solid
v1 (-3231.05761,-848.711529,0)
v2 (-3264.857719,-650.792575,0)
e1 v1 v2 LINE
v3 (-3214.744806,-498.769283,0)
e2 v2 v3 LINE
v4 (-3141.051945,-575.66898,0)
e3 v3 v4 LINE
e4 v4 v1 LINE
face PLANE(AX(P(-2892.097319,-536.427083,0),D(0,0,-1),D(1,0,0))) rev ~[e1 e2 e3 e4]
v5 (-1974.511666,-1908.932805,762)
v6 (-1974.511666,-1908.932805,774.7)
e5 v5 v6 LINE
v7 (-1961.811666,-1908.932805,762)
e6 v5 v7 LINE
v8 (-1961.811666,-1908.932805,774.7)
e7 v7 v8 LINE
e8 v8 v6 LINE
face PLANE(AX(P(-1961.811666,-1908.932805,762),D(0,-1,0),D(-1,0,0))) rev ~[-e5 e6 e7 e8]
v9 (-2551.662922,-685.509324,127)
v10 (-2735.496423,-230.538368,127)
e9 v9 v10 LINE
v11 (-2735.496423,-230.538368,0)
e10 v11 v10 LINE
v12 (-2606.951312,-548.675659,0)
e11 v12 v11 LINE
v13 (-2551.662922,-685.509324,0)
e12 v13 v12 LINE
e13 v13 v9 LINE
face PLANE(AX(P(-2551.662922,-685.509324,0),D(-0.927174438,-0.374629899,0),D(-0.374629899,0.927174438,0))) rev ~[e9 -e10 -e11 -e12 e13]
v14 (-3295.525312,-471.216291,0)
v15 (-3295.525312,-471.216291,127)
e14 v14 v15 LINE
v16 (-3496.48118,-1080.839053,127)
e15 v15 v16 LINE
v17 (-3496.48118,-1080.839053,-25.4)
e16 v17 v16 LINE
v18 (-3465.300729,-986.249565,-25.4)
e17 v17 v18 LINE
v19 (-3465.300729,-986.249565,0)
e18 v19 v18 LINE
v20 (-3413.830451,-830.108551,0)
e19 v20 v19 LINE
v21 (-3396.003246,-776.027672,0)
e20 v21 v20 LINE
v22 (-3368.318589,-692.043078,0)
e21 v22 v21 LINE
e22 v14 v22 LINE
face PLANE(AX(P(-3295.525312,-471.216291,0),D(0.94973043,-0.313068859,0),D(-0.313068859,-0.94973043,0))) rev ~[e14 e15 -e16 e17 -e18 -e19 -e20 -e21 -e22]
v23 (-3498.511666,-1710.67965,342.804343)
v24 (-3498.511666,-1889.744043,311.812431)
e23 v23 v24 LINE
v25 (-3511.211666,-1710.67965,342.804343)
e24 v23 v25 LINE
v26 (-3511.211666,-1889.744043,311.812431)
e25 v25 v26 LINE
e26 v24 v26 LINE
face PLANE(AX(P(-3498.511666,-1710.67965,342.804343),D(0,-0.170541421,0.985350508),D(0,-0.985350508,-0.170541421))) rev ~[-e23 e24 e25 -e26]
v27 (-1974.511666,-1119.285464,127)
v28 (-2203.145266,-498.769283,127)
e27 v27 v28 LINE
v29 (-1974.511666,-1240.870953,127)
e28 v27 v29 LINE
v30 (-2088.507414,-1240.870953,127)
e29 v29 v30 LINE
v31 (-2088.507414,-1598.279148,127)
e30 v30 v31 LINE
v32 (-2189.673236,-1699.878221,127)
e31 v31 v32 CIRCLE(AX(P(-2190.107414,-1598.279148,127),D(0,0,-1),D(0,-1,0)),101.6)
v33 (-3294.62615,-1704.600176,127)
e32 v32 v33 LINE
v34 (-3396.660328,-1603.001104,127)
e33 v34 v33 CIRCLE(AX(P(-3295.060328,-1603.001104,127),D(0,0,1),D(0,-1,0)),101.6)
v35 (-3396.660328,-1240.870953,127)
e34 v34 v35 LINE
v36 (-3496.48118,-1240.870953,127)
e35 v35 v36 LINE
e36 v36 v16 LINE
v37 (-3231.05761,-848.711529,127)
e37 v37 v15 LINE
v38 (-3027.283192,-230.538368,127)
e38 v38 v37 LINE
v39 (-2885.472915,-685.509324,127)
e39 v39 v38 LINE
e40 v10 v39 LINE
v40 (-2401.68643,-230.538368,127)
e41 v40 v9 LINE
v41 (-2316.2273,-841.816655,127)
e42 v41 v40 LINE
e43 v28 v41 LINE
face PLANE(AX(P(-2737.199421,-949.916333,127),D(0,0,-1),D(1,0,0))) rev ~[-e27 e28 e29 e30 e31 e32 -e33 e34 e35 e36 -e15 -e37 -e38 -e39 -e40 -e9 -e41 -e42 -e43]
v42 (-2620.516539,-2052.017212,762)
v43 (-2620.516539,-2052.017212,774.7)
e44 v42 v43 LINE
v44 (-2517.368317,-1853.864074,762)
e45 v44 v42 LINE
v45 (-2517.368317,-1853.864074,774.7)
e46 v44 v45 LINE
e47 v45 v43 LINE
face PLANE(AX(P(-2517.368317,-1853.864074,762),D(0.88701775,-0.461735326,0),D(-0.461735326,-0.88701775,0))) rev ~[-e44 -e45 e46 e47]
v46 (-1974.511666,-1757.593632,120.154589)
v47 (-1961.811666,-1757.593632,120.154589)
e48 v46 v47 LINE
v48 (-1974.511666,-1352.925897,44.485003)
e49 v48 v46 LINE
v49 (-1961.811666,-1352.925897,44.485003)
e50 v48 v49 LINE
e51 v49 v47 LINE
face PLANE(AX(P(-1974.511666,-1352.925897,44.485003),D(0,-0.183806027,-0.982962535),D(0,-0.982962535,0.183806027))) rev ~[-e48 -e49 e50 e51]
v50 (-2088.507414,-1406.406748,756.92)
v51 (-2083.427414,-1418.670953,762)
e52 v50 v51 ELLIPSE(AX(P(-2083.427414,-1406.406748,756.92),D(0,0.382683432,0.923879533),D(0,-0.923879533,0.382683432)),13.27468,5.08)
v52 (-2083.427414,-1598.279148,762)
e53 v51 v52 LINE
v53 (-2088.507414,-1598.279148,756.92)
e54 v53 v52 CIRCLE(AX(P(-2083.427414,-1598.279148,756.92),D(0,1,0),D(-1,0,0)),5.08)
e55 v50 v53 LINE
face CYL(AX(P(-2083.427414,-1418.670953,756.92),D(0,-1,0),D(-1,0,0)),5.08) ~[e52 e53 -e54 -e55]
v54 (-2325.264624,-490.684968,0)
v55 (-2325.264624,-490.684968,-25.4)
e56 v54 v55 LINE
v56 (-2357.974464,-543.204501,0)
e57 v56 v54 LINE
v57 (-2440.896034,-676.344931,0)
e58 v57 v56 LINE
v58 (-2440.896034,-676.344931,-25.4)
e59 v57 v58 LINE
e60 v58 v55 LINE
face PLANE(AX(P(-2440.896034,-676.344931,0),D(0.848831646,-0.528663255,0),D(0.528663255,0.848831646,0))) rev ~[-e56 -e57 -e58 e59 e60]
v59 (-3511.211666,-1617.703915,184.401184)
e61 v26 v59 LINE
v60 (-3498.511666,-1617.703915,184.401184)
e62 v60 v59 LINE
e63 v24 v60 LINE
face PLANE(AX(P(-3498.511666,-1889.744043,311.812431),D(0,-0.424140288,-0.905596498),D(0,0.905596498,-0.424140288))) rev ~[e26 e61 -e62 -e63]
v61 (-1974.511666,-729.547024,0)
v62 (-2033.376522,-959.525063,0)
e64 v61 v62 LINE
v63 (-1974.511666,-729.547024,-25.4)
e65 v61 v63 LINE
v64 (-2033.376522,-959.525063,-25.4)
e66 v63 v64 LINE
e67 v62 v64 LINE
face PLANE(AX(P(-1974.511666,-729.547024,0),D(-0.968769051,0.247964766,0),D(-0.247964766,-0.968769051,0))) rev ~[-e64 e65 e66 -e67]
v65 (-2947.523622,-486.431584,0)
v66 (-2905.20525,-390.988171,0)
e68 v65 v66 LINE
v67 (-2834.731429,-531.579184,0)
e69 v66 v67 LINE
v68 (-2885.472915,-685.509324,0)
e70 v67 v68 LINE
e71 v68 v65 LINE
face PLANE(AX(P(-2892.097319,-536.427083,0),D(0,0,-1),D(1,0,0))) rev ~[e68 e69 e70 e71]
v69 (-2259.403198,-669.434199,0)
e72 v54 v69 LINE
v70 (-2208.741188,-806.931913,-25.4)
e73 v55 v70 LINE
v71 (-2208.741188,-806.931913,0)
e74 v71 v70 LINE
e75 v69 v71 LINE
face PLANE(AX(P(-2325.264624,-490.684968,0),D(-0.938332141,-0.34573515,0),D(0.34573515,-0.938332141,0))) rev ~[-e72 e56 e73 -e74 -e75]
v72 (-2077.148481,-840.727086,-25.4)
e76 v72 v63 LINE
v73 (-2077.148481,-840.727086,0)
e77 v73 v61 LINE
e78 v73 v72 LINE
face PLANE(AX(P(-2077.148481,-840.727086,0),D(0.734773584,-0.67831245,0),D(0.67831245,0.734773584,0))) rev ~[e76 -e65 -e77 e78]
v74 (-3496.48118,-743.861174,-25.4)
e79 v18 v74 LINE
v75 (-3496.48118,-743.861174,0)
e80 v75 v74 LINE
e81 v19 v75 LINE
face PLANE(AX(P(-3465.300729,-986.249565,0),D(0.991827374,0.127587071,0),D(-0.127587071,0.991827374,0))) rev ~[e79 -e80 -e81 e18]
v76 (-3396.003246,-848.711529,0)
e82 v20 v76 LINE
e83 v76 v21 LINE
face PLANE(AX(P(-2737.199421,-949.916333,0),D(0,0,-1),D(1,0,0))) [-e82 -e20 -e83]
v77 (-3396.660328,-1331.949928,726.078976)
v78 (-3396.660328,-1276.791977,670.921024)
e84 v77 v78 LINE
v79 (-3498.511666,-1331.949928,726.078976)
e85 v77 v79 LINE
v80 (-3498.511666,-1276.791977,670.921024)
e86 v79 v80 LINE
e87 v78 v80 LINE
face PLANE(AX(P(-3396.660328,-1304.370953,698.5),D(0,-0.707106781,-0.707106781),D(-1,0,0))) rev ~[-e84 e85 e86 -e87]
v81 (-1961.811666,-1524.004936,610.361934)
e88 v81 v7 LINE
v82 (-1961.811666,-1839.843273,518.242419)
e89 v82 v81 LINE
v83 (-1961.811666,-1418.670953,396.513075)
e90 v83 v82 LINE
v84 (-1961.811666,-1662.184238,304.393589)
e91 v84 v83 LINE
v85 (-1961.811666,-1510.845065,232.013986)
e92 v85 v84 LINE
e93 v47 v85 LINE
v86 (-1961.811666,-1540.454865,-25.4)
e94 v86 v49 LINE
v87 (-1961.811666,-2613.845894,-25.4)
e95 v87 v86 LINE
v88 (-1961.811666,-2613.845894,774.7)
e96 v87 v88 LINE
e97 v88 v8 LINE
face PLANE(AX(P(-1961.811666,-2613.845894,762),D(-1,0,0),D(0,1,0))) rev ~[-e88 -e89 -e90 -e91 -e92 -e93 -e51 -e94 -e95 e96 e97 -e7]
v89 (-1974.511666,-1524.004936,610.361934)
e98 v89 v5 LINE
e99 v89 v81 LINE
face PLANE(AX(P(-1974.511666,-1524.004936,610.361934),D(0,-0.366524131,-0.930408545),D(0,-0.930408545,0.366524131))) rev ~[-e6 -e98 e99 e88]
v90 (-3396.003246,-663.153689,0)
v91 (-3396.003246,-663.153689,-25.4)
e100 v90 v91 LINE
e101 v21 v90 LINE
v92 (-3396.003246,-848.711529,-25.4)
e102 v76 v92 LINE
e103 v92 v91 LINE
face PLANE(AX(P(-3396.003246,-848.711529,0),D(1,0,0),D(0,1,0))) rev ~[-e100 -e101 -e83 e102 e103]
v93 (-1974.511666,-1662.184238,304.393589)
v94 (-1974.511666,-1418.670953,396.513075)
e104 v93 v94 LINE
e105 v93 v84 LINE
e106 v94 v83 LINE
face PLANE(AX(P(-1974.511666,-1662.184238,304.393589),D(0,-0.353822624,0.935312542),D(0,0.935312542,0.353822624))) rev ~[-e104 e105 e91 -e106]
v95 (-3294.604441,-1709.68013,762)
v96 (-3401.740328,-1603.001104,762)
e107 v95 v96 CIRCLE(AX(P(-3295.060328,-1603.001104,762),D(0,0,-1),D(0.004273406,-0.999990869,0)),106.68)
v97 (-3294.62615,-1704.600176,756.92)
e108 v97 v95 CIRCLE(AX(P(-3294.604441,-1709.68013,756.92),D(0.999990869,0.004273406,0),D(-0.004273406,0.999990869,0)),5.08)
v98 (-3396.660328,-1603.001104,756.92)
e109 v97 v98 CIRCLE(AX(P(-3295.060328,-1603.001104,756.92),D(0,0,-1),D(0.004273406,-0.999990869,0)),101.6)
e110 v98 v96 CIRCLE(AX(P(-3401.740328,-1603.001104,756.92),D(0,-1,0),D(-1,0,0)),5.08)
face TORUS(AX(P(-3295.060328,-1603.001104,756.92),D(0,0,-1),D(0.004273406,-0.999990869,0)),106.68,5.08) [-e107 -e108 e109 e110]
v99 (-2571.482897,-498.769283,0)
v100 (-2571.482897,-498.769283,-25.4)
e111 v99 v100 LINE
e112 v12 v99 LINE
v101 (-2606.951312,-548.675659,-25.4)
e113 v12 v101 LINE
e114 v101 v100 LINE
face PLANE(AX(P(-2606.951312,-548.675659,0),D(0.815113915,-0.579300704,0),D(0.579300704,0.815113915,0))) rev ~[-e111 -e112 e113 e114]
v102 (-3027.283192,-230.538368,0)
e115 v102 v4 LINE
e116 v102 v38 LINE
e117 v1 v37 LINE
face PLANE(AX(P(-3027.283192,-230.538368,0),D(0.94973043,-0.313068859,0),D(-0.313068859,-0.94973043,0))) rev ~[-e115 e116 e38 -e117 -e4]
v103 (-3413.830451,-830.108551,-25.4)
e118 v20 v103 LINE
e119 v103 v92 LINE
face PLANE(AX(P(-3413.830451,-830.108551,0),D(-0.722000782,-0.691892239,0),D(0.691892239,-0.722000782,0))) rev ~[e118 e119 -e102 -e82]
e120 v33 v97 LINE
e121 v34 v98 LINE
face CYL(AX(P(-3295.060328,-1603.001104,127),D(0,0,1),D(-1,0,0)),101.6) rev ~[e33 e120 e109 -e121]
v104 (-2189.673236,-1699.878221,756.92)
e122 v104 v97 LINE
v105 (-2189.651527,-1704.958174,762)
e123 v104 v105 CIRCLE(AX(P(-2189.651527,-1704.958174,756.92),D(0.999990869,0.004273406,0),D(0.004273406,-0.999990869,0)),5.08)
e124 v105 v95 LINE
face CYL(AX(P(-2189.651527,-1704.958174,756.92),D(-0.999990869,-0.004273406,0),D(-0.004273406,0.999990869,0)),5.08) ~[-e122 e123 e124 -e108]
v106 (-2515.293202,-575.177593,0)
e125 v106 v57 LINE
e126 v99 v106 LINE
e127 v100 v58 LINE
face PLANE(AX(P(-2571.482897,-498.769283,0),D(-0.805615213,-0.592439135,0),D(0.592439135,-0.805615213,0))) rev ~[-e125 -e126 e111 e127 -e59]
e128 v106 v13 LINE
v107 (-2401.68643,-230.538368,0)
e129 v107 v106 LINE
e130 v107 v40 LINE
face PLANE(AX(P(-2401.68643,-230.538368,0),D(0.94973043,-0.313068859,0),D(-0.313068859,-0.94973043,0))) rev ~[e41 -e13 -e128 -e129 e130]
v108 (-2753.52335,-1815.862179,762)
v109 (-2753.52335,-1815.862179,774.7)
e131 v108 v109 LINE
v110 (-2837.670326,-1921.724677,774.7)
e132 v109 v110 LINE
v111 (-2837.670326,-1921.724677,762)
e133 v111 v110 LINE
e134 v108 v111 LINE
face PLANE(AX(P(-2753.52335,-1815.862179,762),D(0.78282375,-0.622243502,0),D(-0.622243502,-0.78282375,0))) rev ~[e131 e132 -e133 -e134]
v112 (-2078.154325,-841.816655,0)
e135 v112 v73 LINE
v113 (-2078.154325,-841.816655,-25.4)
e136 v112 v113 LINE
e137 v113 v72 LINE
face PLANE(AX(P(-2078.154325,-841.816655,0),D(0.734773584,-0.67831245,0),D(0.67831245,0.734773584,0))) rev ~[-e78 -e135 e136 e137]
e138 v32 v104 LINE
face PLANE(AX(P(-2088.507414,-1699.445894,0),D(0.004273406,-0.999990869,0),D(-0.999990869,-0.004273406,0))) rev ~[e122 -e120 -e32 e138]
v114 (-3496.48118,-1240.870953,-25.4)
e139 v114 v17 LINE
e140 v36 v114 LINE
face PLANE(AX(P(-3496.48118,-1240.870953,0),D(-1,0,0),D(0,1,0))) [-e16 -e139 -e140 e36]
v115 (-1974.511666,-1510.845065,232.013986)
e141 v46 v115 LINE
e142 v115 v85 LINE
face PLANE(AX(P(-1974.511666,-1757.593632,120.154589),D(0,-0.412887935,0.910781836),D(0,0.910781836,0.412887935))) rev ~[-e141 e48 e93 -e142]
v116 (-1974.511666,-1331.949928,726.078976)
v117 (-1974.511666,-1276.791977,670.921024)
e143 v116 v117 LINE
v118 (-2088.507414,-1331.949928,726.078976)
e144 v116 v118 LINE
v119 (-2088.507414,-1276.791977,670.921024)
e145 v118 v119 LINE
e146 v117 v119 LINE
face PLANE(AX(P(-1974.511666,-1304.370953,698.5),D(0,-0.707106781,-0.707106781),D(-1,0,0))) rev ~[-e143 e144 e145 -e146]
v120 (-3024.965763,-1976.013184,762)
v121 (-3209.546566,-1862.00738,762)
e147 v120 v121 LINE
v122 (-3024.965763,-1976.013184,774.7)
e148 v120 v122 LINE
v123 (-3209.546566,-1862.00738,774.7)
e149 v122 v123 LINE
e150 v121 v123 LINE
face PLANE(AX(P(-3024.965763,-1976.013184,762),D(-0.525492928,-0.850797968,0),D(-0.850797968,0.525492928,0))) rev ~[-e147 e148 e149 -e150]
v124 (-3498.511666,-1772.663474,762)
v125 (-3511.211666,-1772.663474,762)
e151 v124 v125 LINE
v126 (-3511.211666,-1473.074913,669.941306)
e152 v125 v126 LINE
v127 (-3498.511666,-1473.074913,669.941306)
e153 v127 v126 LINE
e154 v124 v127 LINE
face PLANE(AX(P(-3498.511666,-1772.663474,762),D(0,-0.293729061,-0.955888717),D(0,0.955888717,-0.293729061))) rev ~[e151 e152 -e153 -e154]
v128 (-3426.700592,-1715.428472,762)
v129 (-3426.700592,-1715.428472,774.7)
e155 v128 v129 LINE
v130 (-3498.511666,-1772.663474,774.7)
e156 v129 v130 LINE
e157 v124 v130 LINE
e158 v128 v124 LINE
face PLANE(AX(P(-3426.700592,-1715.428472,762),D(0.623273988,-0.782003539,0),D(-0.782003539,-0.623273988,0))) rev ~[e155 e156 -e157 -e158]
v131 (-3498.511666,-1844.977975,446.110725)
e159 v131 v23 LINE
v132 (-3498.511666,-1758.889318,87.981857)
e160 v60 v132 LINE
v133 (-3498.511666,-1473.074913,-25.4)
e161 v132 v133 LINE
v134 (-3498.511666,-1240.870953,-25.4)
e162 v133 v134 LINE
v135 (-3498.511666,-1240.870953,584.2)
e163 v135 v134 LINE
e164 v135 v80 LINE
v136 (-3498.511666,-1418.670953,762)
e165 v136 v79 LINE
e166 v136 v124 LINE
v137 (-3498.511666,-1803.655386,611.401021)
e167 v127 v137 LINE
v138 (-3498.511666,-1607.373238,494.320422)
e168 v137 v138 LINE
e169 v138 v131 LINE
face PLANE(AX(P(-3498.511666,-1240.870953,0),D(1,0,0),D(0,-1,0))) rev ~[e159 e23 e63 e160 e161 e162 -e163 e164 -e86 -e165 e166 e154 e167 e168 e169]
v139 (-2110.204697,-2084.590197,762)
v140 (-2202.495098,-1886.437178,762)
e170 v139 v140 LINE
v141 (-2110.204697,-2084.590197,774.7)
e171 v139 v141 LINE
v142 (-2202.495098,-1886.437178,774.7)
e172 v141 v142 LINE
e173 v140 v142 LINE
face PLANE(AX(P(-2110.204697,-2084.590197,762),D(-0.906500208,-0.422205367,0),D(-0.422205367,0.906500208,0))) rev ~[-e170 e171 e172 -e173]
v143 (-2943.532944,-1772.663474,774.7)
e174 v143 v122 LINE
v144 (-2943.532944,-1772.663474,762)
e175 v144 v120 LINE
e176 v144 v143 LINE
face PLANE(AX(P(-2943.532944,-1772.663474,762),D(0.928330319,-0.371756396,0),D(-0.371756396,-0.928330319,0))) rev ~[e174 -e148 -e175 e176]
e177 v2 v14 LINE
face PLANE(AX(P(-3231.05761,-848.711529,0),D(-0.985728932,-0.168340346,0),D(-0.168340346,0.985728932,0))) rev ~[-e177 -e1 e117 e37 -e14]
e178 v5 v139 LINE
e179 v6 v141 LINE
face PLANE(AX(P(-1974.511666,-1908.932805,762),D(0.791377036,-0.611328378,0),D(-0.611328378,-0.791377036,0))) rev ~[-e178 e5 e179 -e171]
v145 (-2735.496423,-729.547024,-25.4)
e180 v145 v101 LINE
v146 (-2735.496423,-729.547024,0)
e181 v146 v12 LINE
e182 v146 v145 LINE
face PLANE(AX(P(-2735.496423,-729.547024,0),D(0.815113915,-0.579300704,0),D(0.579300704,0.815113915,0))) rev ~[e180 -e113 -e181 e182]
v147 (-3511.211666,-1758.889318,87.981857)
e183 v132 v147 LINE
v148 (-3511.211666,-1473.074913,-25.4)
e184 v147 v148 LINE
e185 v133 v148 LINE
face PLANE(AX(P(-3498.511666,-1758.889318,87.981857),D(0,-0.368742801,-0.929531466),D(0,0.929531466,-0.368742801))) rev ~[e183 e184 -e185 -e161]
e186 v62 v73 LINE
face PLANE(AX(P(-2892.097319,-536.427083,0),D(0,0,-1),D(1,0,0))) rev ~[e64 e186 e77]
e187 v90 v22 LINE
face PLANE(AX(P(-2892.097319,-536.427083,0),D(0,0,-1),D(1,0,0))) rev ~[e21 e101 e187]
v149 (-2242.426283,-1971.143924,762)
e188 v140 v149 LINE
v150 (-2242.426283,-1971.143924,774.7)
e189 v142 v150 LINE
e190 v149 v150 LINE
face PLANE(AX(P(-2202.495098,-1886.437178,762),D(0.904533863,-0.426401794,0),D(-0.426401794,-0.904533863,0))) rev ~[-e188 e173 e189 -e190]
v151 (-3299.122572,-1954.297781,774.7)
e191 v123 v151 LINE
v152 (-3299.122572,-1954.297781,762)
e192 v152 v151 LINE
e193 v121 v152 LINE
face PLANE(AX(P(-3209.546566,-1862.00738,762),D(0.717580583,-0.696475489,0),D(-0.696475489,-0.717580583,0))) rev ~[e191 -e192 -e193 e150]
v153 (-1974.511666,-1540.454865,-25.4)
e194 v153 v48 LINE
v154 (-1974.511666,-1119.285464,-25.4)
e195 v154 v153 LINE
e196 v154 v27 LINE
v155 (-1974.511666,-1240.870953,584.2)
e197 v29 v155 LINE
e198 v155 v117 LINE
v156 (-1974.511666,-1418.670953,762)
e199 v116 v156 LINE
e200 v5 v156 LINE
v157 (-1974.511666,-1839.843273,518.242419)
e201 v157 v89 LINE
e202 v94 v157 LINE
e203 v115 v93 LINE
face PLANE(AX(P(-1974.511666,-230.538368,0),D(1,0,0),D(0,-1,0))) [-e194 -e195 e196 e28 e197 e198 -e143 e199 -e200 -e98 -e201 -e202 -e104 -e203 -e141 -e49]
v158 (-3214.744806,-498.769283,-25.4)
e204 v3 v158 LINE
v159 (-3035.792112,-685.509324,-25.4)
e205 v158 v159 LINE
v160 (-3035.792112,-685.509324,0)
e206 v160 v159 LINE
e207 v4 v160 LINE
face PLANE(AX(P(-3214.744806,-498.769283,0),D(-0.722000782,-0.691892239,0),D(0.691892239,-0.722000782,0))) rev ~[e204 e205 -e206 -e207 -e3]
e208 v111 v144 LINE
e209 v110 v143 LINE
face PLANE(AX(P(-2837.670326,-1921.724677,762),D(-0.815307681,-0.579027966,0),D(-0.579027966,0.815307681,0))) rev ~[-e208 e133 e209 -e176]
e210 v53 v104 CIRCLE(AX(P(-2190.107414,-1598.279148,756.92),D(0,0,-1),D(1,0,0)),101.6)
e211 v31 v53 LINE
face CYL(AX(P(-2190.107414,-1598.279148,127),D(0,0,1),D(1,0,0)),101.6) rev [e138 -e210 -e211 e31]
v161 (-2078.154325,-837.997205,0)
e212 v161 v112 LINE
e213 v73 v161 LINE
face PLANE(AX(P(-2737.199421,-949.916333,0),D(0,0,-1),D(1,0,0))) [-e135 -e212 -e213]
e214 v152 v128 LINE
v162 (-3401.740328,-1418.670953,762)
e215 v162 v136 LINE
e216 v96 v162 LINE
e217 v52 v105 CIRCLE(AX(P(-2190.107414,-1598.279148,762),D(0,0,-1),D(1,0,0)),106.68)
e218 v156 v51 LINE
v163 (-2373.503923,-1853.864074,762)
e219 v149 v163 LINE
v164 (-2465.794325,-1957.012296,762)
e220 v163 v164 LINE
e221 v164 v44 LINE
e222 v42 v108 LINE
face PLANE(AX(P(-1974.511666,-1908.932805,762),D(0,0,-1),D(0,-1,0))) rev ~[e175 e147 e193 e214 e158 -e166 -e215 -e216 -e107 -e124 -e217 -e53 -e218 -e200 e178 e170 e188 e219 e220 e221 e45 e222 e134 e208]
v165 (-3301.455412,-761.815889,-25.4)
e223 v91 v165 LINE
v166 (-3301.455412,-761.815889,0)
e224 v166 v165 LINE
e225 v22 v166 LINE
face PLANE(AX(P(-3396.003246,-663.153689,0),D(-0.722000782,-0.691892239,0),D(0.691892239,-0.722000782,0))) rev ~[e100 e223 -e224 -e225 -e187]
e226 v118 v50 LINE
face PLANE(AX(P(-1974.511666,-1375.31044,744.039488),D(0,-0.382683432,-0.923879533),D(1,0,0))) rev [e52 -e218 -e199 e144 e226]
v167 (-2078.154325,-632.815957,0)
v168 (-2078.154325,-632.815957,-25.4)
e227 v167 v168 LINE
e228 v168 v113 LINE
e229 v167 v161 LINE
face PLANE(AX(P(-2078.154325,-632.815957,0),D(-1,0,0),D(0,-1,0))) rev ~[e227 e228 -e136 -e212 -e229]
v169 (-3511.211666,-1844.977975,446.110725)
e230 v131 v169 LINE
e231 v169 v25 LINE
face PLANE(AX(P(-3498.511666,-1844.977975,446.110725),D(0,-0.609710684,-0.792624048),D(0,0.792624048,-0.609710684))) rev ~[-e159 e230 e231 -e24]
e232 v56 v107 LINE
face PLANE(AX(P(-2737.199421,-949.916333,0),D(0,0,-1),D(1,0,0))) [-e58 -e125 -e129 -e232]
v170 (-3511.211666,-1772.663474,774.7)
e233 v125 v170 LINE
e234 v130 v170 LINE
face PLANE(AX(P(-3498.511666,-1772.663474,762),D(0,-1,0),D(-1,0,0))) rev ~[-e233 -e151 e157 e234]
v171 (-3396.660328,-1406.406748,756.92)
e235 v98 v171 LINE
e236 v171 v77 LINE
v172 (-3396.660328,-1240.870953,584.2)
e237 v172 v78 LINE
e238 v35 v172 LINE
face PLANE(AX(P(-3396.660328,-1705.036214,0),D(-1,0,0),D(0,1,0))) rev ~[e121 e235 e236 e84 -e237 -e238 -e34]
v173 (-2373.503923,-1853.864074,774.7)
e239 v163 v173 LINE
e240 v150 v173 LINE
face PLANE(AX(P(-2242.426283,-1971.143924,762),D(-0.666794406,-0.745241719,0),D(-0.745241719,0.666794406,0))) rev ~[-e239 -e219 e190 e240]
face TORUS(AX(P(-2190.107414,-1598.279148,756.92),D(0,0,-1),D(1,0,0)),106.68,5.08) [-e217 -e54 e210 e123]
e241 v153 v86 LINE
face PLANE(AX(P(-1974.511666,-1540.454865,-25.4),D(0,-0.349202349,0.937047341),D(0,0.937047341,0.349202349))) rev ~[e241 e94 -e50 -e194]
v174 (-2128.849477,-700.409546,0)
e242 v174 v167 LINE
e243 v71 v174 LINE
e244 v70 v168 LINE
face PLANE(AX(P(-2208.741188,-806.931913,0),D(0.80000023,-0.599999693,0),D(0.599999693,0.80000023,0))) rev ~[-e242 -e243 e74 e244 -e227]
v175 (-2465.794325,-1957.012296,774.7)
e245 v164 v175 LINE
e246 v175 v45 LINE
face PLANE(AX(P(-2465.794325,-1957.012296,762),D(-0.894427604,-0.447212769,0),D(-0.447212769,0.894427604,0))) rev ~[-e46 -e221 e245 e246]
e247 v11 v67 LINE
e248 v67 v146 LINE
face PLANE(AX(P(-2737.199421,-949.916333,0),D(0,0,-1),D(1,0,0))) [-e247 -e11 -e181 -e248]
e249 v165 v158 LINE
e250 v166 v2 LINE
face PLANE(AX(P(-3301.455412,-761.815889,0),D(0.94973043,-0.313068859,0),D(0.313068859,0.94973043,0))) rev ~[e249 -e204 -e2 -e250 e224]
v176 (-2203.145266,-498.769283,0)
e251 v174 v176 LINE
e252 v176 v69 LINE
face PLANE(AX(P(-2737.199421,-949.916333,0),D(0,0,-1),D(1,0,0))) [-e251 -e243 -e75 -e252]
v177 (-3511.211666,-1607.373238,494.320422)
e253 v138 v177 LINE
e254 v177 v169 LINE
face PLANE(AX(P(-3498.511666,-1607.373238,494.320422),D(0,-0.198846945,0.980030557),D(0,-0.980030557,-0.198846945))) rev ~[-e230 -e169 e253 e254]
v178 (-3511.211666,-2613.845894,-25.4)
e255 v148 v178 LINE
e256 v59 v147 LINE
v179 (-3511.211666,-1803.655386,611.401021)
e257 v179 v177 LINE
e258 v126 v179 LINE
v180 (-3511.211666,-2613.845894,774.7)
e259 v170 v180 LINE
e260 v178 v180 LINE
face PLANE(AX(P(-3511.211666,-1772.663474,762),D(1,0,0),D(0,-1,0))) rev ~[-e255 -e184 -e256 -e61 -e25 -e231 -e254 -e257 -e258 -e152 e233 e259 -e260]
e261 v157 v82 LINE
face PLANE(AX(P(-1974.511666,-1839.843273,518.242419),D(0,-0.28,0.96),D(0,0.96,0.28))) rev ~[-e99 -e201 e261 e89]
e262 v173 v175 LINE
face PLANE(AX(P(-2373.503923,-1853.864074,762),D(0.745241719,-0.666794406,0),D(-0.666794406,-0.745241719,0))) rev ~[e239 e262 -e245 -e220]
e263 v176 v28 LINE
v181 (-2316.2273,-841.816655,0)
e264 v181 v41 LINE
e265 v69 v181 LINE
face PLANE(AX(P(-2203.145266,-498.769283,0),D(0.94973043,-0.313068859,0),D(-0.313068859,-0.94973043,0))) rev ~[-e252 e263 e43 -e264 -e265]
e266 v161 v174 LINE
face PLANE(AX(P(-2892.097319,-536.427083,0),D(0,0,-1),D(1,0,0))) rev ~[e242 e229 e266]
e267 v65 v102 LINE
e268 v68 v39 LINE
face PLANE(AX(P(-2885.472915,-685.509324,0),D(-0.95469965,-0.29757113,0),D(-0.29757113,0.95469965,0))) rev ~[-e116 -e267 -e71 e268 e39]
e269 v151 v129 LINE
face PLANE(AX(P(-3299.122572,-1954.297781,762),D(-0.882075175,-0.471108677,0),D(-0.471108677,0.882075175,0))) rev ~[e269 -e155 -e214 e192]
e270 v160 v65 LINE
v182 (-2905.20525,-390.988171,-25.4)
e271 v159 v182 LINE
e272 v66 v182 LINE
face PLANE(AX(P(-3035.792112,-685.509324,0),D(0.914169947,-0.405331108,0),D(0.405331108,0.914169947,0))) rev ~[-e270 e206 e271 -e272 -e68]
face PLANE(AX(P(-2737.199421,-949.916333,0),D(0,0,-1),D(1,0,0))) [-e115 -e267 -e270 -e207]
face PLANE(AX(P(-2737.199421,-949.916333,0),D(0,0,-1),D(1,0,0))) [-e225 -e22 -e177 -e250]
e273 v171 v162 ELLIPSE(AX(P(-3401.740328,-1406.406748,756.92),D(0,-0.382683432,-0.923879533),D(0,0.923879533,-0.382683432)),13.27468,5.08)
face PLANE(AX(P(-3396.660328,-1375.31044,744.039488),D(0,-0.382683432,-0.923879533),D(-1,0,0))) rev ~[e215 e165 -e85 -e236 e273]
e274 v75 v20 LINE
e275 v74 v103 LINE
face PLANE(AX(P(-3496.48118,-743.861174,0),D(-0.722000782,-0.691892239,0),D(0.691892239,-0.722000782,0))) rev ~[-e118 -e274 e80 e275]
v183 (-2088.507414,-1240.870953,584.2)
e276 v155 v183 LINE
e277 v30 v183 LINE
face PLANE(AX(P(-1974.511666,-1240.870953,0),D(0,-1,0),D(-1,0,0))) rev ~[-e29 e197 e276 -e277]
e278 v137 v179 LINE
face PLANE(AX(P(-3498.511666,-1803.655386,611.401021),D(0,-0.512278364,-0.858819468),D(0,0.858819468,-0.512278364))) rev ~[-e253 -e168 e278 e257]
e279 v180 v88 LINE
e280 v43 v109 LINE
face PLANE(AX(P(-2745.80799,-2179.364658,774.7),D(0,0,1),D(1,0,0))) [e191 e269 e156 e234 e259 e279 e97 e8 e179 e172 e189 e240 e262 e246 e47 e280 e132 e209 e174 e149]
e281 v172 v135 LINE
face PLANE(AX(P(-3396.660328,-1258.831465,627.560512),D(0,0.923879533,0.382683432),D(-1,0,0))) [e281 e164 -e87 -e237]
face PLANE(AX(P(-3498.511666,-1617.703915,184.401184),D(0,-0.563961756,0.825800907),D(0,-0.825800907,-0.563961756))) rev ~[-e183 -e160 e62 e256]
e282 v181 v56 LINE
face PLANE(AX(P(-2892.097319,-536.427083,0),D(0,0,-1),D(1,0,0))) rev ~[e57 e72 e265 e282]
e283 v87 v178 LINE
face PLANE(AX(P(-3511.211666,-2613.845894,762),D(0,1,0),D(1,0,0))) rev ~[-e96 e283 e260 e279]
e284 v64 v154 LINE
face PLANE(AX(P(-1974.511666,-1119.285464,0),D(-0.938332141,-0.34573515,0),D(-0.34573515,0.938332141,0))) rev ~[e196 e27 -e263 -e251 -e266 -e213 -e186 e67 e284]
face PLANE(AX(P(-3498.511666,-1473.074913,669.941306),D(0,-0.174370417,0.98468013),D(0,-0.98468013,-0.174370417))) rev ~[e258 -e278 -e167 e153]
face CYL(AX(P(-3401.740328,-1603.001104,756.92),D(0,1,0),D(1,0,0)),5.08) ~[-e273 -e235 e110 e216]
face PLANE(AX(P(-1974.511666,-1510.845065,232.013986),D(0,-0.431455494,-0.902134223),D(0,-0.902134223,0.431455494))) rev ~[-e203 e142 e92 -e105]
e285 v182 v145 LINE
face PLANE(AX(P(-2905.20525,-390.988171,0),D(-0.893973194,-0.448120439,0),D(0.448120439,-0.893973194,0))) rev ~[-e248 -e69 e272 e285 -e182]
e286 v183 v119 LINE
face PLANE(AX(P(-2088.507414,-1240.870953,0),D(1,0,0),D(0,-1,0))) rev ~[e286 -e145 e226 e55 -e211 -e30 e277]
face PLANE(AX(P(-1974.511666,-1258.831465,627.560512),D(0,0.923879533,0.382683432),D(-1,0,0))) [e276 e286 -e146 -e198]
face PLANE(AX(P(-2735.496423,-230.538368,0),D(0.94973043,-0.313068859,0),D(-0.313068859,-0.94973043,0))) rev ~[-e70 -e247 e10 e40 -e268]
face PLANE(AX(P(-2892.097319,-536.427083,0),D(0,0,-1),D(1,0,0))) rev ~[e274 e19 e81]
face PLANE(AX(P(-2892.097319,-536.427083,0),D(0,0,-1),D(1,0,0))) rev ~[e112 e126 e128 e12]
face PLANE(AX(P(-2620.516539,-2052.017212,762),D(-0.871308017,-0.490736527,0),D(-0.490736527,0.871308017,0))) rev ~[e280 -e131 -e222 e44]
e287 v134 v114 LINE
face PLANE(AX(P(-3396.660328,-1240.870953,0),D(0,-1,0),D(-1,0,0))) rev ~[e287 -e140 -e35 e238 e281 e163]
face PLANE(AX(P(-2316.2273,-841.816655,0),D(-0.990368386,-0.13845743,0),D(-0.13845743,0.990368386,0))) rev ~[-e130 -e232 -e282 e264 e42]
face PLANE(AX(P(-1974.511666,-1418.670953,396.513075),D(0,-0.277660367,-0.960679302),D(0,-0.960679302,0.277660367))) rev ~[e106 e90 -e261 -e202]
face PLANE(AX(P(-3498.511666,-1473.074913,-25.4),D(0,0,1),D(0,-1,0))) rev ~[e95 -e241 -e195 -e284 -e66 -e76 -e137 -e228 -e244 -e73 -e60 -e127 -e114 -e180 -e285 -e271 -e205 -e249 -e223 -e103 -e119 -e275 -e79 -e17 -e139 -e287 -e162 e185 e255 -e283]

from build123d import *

# Parameters (mm, degrees)
F1_DEPTH  = 762
F3_DEPTH  = 127
F6_DEPTH  = 762.001
F8_DEPTH  = 25.4
F10_SIZE  = 127
F11_SIZE  = 50.8
F12_R     = 101.6
F13_R     = 5.08
F15_DEPTH = 12.7
F17_DEPTH = 12.7
F19_DEPTH = 12.7


with BuildPart() as f1:
    # F0 (on Top) → F1 (new body)
    with BuildSketch(Plane.XY):
        Polygon((-3498.5116661556, -1699.4458940506), (-3498.5116661556, -2613.8458940506), (-1974.5116661556, -2613.8458940506), (-1974.5116661556, -1699.4458940506), (-1974.5116661556, -1240.8709526062), (-2088.5074138641, -1240.8709526062), (-2088.5074138641, -1699.4458940506), (-3396.6603279114, -1705.0362136841), (-3396.6603279114, -1240.8709526062), (-3498.5116661556, -1240.8709526062), align=None)
    extrude(amount=F1_DEPTH)


with BuildPart() as f3:
    # F2 (on face) → F3 (new body)
    with BuildSketch(Plane(origin=(0, 0, 0), x_dir=(1, 0, 0), z_dir=(0, 0, -1))):
        Polygon((-1974.5116661556, 230.5383682251), (-1974.5116661556, 1240.8709526062), (-2088.5074138641, 1240.8709526062), (-2088.5074138641, 1699.4458940506), (-3396.6603279114, 1705.0362136841), (-3396.6603279114, 1240.8709526062), (-3496.481180191, 1240.8709526062), (-3496.481180191, 230.5383682251), align=None)
    extrude(amount=-F3_DEPTH)


with BuildPart() as f1_1:
    add(f1.part)

    # F4: union F3
    add(f3.part)

    # F5 (on face) → F6 (cut, through all)
    with BuildSketch(Plane(origin=(0, 0, 0), x_dir=(1, 0, 0), z_dir=(0, 0, -1))):
        Polygon((-2316.2273000234, 841.8166545124), (-2401.6864299774, 230.5383682251), (-1974.5116661556, 230.5383682251), (-1974.5116661556, 1119.2854642868), (-2203.1452655792, 498.7692832947), align=None)
        Polygon((-2735.4964231733, 230.5383682251), (-2401.6864299774, 230.5383682251), (-2551.6629219055, 685.5093240738), align=None)
        Polygon((-3496.481180191, 230.5383682251), (-3027.2831916809, 230.5383682251), (-3231.0576103647, 848.7115289264), (-3295.5253124237, 471.2162911892), (-3496.481180191, 1080.8390531707), align=None)
        Polygon((-3027.2831916809, 230.5383682251), (-2735.4964231733, 230.5383682251), (-2885.4729151014, 685.5093240738), align=None)
    extrude(amount=-F6_DEPTH, mode=Mode.SUBTRACT)


with BuildPart() as f8:
    # F7 (on face) → F8 (new body)
    with BuildSketch(Plane(origin=(0, 0, 0), x_dir=(1, 0, 0), z_dir=(0, 0, -1))):
        Polygon((-2905.2052497864, 390.9881711006), (-2834.7314291205, 531.5791842156), (-2885.4729151014, 685.5093240738), (-2947.5236220314, 486.4315835605), align=None)
        Polygon((-3214.7448062897, 498.7692832947), (-3141.0519449936, 575.6689801958), (-3231.0576103647, 848.7115289264), (-3264.8577193286, 650.7925747624), align=None)
        Polygon((-3413.8304513223, 830.1085511328), (-3465.3007291058, 986.2495648338), (-3496.481180191, 743.8611740208), align=None)
        Polygon((-3368.3185893378, 692.043077782), (-3396.0032463074, 776.02767218), (-3396.0032463074, 663.1536888734), align=None)
        Polygon((-2571.4828968048, 498.7692832947), (-2515.293202418, 575.1775925706), (-2551.6629219055, 685.5093240738), (-2606.951311997, 548.6756592969), align=None)
        Polygon((-2325.264623755, 490.6849679948), (-2259.4031983079, 669.4341994996), (-2316.2273000234, 841.8166545124), (-2357.9744639194, 543.2045013416), align=None)
        Polygon((-2078.1543254852, 837.9972051805), (-2128.849476835, 700.4095461938), (-2078.1543254852, 632.8159570694), align=None)
        Polygon((-2033.3765220407, 959.5250631011), (-2077.148481374, 840.727086301), (-1974.5116661556, 729.5470237732), align=None)
        Polygon((-2259.4031983079, 669.4341994996), (-2208.7411880493, 806.931912899), (-2128.849476835, 700.4095461938), (-2078.1543254852, 837.9972051805), (-2078.1543254852, 841.8166545124), (-2077.148481374, 840.727086301), (-2033.3765220407, 959.5250631011), (-1974.5116661556, 1119.2854642868), (-1974.5116661556, 2613.8458940506), (-3498.5116661556, 2613.8458940506), (-3498.5116661556, 1240.8709526062), (-3496.481180191, 1240.8709526062), (-3496.481180191, 1080.8390531707), (-3465.3007291058, 986.2495648338), (-3413.8304513223, 830.1085511328), (-3396.0032463074, 848.7115289264), (-3396.0032463074, 776.02767218), (-3368.3185893378, 692.043077782), (-3301.4554118653, 761.8158887578), (-3264.8577193286, 650.7925747624), (-3231.0576103647, 848.7115289264), (-3141.0519449936, 575.6689801958), (-3035.7921123505, 685.5093240738), (-2947.5236220314, 486.4315835605), (-2885.4729151014, 685.5093240738), (-2834.7314291205, 531.5791842156), (-2735.4964231733, 729.5470237732), (-2606.951311997, 548.6756592969), (-2551.6629219055, 685.5093240738), (-2515.293202418, 575.1775925706), (-2440.8960342407, 676.3449311256), (-2357.9744639194, 543.2045013416), (-2316.2273000234, 841.8166545124), align=None)
    extrude(amount=F8_DEPTH)

    # F9: union F1
    add(f1_1.part)

    # F10
    f10_edges = [f8.edges().sort_by_distance(p)[0] for p in [
        (-3447.585997, -1240.870953, 762),
        (-2031.50954, -1240.870953, 762),
    ]]
    chamfer(f10_edges, length=F10_SIZE)

    # F11
    f11_edges = [f8.edges().sort_by_distance(p)[0] for p in [
        (-2031.50954, -1240.870953, 635),
        (-2031.50954, -1367.870953, 762),
        (-3447.585997, -1240.870953, 635),
        (-3447.585997, -1367.870953, 762),
    ]]
    chamfer(f11_edges, length=F11_SIZE)

    # F12
    f12_edges = [f8.edges().sort_by_distance(p)[0] for p in [
        (-3396.660328, -1705.036214, 444.5),
        (-2088.507414, -1699.445894, 444.5),
    ]]
    fillet(f12_edges, radius=F12_R)

    # F13
    f13_edges = [f8.edges().sort_by_distance(p)[0] for p in [
        (-2742.149693, -1702.239198, 762),
    ]]
    fillet(f13_edges, radius=F13_R)

    # F14 (on face) → F15 (join)
    with BuildSketch(Plane.YZ.offset(-1974.5116661556)):
        Polygon((-1524.0049362183, 610.3619337082), (-1908.9328050613, 762), (-2613.8458940506, 762), (-2613.8458940506, -25.4), (-1540.454864502, -25.4), (-1352.9258966446, 44.4850027561), (-1757.5936317444, 120.1545894146), (-1510.8450651169, 232.0139855146), (-1662.1842384338, 304.3935894966), (-1418.6709526062, 396.5130746365), (-1839.8432731628, 518.242418766), align=None)
    extrude(amount=F15_DEPTH)

    # F16 (on face) → F17 (join)
    with BuildSketch(Plane(origin=(-3498.5116661556, 0, 0), x_dir=(0, -1, 0), z_dir=(-1, 0, 0))):
        Polygon((1758.8893175125, 87.9818573594), (1473.0749130249, -25.4), (2613.8458940506, -25.4), (2613.8458940506, 762), (1772.6634740829, 762), (1473.0749130249, 669.9413061142), (1803.6553859711, 611.4010214806), (1607.3732376099, 494.320422411), (1844.9779748917, 446.1107254028), (1710.6796503067, 342.8043425083), (1889.7440433502, 311.8124306202), (1617.7039146423, 184.4011843204), align=None)
    extrude(amount=F17_DEPTH)

    # F18 (on face) → F19 (join)
    with BuildSketch(Plane.XY.offset(762)):
        Polygon((-3426.700592041, -1715.4284715652), (-3498.5116661556, -1772.6634740829), (-3511.2116661556, -1772.6634740829), (-3511.2116661556, -2613.8458940506), (-1961.8116661556, -2613.8458940506), (-1961.8116661556, -1908.9328050613), (-1974.5116661556, -1908.9328050613), (-2110.2046966553, -2084.5901966095), (-2202.495098114, -1886.4371776581), (-2242.4262828624, -1971.1439244185), (-2373.5039234161, -1853.8640737534), (-2465.7943248749, -1957.012295723), (-2517.3683166504, -1853.8640737534), (-2620.51653862, -2052.0172119141), (-2753.523349762, -1815.8621788025), (-2837.6703262329, -1921.7246770859), (-2943.5329437256, -1772.6634740829), (-3024.965763092, -1976.0131835938), (-3209.5465660095, -1862.0073795319), (-3299.1225719452, -1954.2977809906), align=None)
    extrude(amount=F19_DEPTH)


solid = f8.part
